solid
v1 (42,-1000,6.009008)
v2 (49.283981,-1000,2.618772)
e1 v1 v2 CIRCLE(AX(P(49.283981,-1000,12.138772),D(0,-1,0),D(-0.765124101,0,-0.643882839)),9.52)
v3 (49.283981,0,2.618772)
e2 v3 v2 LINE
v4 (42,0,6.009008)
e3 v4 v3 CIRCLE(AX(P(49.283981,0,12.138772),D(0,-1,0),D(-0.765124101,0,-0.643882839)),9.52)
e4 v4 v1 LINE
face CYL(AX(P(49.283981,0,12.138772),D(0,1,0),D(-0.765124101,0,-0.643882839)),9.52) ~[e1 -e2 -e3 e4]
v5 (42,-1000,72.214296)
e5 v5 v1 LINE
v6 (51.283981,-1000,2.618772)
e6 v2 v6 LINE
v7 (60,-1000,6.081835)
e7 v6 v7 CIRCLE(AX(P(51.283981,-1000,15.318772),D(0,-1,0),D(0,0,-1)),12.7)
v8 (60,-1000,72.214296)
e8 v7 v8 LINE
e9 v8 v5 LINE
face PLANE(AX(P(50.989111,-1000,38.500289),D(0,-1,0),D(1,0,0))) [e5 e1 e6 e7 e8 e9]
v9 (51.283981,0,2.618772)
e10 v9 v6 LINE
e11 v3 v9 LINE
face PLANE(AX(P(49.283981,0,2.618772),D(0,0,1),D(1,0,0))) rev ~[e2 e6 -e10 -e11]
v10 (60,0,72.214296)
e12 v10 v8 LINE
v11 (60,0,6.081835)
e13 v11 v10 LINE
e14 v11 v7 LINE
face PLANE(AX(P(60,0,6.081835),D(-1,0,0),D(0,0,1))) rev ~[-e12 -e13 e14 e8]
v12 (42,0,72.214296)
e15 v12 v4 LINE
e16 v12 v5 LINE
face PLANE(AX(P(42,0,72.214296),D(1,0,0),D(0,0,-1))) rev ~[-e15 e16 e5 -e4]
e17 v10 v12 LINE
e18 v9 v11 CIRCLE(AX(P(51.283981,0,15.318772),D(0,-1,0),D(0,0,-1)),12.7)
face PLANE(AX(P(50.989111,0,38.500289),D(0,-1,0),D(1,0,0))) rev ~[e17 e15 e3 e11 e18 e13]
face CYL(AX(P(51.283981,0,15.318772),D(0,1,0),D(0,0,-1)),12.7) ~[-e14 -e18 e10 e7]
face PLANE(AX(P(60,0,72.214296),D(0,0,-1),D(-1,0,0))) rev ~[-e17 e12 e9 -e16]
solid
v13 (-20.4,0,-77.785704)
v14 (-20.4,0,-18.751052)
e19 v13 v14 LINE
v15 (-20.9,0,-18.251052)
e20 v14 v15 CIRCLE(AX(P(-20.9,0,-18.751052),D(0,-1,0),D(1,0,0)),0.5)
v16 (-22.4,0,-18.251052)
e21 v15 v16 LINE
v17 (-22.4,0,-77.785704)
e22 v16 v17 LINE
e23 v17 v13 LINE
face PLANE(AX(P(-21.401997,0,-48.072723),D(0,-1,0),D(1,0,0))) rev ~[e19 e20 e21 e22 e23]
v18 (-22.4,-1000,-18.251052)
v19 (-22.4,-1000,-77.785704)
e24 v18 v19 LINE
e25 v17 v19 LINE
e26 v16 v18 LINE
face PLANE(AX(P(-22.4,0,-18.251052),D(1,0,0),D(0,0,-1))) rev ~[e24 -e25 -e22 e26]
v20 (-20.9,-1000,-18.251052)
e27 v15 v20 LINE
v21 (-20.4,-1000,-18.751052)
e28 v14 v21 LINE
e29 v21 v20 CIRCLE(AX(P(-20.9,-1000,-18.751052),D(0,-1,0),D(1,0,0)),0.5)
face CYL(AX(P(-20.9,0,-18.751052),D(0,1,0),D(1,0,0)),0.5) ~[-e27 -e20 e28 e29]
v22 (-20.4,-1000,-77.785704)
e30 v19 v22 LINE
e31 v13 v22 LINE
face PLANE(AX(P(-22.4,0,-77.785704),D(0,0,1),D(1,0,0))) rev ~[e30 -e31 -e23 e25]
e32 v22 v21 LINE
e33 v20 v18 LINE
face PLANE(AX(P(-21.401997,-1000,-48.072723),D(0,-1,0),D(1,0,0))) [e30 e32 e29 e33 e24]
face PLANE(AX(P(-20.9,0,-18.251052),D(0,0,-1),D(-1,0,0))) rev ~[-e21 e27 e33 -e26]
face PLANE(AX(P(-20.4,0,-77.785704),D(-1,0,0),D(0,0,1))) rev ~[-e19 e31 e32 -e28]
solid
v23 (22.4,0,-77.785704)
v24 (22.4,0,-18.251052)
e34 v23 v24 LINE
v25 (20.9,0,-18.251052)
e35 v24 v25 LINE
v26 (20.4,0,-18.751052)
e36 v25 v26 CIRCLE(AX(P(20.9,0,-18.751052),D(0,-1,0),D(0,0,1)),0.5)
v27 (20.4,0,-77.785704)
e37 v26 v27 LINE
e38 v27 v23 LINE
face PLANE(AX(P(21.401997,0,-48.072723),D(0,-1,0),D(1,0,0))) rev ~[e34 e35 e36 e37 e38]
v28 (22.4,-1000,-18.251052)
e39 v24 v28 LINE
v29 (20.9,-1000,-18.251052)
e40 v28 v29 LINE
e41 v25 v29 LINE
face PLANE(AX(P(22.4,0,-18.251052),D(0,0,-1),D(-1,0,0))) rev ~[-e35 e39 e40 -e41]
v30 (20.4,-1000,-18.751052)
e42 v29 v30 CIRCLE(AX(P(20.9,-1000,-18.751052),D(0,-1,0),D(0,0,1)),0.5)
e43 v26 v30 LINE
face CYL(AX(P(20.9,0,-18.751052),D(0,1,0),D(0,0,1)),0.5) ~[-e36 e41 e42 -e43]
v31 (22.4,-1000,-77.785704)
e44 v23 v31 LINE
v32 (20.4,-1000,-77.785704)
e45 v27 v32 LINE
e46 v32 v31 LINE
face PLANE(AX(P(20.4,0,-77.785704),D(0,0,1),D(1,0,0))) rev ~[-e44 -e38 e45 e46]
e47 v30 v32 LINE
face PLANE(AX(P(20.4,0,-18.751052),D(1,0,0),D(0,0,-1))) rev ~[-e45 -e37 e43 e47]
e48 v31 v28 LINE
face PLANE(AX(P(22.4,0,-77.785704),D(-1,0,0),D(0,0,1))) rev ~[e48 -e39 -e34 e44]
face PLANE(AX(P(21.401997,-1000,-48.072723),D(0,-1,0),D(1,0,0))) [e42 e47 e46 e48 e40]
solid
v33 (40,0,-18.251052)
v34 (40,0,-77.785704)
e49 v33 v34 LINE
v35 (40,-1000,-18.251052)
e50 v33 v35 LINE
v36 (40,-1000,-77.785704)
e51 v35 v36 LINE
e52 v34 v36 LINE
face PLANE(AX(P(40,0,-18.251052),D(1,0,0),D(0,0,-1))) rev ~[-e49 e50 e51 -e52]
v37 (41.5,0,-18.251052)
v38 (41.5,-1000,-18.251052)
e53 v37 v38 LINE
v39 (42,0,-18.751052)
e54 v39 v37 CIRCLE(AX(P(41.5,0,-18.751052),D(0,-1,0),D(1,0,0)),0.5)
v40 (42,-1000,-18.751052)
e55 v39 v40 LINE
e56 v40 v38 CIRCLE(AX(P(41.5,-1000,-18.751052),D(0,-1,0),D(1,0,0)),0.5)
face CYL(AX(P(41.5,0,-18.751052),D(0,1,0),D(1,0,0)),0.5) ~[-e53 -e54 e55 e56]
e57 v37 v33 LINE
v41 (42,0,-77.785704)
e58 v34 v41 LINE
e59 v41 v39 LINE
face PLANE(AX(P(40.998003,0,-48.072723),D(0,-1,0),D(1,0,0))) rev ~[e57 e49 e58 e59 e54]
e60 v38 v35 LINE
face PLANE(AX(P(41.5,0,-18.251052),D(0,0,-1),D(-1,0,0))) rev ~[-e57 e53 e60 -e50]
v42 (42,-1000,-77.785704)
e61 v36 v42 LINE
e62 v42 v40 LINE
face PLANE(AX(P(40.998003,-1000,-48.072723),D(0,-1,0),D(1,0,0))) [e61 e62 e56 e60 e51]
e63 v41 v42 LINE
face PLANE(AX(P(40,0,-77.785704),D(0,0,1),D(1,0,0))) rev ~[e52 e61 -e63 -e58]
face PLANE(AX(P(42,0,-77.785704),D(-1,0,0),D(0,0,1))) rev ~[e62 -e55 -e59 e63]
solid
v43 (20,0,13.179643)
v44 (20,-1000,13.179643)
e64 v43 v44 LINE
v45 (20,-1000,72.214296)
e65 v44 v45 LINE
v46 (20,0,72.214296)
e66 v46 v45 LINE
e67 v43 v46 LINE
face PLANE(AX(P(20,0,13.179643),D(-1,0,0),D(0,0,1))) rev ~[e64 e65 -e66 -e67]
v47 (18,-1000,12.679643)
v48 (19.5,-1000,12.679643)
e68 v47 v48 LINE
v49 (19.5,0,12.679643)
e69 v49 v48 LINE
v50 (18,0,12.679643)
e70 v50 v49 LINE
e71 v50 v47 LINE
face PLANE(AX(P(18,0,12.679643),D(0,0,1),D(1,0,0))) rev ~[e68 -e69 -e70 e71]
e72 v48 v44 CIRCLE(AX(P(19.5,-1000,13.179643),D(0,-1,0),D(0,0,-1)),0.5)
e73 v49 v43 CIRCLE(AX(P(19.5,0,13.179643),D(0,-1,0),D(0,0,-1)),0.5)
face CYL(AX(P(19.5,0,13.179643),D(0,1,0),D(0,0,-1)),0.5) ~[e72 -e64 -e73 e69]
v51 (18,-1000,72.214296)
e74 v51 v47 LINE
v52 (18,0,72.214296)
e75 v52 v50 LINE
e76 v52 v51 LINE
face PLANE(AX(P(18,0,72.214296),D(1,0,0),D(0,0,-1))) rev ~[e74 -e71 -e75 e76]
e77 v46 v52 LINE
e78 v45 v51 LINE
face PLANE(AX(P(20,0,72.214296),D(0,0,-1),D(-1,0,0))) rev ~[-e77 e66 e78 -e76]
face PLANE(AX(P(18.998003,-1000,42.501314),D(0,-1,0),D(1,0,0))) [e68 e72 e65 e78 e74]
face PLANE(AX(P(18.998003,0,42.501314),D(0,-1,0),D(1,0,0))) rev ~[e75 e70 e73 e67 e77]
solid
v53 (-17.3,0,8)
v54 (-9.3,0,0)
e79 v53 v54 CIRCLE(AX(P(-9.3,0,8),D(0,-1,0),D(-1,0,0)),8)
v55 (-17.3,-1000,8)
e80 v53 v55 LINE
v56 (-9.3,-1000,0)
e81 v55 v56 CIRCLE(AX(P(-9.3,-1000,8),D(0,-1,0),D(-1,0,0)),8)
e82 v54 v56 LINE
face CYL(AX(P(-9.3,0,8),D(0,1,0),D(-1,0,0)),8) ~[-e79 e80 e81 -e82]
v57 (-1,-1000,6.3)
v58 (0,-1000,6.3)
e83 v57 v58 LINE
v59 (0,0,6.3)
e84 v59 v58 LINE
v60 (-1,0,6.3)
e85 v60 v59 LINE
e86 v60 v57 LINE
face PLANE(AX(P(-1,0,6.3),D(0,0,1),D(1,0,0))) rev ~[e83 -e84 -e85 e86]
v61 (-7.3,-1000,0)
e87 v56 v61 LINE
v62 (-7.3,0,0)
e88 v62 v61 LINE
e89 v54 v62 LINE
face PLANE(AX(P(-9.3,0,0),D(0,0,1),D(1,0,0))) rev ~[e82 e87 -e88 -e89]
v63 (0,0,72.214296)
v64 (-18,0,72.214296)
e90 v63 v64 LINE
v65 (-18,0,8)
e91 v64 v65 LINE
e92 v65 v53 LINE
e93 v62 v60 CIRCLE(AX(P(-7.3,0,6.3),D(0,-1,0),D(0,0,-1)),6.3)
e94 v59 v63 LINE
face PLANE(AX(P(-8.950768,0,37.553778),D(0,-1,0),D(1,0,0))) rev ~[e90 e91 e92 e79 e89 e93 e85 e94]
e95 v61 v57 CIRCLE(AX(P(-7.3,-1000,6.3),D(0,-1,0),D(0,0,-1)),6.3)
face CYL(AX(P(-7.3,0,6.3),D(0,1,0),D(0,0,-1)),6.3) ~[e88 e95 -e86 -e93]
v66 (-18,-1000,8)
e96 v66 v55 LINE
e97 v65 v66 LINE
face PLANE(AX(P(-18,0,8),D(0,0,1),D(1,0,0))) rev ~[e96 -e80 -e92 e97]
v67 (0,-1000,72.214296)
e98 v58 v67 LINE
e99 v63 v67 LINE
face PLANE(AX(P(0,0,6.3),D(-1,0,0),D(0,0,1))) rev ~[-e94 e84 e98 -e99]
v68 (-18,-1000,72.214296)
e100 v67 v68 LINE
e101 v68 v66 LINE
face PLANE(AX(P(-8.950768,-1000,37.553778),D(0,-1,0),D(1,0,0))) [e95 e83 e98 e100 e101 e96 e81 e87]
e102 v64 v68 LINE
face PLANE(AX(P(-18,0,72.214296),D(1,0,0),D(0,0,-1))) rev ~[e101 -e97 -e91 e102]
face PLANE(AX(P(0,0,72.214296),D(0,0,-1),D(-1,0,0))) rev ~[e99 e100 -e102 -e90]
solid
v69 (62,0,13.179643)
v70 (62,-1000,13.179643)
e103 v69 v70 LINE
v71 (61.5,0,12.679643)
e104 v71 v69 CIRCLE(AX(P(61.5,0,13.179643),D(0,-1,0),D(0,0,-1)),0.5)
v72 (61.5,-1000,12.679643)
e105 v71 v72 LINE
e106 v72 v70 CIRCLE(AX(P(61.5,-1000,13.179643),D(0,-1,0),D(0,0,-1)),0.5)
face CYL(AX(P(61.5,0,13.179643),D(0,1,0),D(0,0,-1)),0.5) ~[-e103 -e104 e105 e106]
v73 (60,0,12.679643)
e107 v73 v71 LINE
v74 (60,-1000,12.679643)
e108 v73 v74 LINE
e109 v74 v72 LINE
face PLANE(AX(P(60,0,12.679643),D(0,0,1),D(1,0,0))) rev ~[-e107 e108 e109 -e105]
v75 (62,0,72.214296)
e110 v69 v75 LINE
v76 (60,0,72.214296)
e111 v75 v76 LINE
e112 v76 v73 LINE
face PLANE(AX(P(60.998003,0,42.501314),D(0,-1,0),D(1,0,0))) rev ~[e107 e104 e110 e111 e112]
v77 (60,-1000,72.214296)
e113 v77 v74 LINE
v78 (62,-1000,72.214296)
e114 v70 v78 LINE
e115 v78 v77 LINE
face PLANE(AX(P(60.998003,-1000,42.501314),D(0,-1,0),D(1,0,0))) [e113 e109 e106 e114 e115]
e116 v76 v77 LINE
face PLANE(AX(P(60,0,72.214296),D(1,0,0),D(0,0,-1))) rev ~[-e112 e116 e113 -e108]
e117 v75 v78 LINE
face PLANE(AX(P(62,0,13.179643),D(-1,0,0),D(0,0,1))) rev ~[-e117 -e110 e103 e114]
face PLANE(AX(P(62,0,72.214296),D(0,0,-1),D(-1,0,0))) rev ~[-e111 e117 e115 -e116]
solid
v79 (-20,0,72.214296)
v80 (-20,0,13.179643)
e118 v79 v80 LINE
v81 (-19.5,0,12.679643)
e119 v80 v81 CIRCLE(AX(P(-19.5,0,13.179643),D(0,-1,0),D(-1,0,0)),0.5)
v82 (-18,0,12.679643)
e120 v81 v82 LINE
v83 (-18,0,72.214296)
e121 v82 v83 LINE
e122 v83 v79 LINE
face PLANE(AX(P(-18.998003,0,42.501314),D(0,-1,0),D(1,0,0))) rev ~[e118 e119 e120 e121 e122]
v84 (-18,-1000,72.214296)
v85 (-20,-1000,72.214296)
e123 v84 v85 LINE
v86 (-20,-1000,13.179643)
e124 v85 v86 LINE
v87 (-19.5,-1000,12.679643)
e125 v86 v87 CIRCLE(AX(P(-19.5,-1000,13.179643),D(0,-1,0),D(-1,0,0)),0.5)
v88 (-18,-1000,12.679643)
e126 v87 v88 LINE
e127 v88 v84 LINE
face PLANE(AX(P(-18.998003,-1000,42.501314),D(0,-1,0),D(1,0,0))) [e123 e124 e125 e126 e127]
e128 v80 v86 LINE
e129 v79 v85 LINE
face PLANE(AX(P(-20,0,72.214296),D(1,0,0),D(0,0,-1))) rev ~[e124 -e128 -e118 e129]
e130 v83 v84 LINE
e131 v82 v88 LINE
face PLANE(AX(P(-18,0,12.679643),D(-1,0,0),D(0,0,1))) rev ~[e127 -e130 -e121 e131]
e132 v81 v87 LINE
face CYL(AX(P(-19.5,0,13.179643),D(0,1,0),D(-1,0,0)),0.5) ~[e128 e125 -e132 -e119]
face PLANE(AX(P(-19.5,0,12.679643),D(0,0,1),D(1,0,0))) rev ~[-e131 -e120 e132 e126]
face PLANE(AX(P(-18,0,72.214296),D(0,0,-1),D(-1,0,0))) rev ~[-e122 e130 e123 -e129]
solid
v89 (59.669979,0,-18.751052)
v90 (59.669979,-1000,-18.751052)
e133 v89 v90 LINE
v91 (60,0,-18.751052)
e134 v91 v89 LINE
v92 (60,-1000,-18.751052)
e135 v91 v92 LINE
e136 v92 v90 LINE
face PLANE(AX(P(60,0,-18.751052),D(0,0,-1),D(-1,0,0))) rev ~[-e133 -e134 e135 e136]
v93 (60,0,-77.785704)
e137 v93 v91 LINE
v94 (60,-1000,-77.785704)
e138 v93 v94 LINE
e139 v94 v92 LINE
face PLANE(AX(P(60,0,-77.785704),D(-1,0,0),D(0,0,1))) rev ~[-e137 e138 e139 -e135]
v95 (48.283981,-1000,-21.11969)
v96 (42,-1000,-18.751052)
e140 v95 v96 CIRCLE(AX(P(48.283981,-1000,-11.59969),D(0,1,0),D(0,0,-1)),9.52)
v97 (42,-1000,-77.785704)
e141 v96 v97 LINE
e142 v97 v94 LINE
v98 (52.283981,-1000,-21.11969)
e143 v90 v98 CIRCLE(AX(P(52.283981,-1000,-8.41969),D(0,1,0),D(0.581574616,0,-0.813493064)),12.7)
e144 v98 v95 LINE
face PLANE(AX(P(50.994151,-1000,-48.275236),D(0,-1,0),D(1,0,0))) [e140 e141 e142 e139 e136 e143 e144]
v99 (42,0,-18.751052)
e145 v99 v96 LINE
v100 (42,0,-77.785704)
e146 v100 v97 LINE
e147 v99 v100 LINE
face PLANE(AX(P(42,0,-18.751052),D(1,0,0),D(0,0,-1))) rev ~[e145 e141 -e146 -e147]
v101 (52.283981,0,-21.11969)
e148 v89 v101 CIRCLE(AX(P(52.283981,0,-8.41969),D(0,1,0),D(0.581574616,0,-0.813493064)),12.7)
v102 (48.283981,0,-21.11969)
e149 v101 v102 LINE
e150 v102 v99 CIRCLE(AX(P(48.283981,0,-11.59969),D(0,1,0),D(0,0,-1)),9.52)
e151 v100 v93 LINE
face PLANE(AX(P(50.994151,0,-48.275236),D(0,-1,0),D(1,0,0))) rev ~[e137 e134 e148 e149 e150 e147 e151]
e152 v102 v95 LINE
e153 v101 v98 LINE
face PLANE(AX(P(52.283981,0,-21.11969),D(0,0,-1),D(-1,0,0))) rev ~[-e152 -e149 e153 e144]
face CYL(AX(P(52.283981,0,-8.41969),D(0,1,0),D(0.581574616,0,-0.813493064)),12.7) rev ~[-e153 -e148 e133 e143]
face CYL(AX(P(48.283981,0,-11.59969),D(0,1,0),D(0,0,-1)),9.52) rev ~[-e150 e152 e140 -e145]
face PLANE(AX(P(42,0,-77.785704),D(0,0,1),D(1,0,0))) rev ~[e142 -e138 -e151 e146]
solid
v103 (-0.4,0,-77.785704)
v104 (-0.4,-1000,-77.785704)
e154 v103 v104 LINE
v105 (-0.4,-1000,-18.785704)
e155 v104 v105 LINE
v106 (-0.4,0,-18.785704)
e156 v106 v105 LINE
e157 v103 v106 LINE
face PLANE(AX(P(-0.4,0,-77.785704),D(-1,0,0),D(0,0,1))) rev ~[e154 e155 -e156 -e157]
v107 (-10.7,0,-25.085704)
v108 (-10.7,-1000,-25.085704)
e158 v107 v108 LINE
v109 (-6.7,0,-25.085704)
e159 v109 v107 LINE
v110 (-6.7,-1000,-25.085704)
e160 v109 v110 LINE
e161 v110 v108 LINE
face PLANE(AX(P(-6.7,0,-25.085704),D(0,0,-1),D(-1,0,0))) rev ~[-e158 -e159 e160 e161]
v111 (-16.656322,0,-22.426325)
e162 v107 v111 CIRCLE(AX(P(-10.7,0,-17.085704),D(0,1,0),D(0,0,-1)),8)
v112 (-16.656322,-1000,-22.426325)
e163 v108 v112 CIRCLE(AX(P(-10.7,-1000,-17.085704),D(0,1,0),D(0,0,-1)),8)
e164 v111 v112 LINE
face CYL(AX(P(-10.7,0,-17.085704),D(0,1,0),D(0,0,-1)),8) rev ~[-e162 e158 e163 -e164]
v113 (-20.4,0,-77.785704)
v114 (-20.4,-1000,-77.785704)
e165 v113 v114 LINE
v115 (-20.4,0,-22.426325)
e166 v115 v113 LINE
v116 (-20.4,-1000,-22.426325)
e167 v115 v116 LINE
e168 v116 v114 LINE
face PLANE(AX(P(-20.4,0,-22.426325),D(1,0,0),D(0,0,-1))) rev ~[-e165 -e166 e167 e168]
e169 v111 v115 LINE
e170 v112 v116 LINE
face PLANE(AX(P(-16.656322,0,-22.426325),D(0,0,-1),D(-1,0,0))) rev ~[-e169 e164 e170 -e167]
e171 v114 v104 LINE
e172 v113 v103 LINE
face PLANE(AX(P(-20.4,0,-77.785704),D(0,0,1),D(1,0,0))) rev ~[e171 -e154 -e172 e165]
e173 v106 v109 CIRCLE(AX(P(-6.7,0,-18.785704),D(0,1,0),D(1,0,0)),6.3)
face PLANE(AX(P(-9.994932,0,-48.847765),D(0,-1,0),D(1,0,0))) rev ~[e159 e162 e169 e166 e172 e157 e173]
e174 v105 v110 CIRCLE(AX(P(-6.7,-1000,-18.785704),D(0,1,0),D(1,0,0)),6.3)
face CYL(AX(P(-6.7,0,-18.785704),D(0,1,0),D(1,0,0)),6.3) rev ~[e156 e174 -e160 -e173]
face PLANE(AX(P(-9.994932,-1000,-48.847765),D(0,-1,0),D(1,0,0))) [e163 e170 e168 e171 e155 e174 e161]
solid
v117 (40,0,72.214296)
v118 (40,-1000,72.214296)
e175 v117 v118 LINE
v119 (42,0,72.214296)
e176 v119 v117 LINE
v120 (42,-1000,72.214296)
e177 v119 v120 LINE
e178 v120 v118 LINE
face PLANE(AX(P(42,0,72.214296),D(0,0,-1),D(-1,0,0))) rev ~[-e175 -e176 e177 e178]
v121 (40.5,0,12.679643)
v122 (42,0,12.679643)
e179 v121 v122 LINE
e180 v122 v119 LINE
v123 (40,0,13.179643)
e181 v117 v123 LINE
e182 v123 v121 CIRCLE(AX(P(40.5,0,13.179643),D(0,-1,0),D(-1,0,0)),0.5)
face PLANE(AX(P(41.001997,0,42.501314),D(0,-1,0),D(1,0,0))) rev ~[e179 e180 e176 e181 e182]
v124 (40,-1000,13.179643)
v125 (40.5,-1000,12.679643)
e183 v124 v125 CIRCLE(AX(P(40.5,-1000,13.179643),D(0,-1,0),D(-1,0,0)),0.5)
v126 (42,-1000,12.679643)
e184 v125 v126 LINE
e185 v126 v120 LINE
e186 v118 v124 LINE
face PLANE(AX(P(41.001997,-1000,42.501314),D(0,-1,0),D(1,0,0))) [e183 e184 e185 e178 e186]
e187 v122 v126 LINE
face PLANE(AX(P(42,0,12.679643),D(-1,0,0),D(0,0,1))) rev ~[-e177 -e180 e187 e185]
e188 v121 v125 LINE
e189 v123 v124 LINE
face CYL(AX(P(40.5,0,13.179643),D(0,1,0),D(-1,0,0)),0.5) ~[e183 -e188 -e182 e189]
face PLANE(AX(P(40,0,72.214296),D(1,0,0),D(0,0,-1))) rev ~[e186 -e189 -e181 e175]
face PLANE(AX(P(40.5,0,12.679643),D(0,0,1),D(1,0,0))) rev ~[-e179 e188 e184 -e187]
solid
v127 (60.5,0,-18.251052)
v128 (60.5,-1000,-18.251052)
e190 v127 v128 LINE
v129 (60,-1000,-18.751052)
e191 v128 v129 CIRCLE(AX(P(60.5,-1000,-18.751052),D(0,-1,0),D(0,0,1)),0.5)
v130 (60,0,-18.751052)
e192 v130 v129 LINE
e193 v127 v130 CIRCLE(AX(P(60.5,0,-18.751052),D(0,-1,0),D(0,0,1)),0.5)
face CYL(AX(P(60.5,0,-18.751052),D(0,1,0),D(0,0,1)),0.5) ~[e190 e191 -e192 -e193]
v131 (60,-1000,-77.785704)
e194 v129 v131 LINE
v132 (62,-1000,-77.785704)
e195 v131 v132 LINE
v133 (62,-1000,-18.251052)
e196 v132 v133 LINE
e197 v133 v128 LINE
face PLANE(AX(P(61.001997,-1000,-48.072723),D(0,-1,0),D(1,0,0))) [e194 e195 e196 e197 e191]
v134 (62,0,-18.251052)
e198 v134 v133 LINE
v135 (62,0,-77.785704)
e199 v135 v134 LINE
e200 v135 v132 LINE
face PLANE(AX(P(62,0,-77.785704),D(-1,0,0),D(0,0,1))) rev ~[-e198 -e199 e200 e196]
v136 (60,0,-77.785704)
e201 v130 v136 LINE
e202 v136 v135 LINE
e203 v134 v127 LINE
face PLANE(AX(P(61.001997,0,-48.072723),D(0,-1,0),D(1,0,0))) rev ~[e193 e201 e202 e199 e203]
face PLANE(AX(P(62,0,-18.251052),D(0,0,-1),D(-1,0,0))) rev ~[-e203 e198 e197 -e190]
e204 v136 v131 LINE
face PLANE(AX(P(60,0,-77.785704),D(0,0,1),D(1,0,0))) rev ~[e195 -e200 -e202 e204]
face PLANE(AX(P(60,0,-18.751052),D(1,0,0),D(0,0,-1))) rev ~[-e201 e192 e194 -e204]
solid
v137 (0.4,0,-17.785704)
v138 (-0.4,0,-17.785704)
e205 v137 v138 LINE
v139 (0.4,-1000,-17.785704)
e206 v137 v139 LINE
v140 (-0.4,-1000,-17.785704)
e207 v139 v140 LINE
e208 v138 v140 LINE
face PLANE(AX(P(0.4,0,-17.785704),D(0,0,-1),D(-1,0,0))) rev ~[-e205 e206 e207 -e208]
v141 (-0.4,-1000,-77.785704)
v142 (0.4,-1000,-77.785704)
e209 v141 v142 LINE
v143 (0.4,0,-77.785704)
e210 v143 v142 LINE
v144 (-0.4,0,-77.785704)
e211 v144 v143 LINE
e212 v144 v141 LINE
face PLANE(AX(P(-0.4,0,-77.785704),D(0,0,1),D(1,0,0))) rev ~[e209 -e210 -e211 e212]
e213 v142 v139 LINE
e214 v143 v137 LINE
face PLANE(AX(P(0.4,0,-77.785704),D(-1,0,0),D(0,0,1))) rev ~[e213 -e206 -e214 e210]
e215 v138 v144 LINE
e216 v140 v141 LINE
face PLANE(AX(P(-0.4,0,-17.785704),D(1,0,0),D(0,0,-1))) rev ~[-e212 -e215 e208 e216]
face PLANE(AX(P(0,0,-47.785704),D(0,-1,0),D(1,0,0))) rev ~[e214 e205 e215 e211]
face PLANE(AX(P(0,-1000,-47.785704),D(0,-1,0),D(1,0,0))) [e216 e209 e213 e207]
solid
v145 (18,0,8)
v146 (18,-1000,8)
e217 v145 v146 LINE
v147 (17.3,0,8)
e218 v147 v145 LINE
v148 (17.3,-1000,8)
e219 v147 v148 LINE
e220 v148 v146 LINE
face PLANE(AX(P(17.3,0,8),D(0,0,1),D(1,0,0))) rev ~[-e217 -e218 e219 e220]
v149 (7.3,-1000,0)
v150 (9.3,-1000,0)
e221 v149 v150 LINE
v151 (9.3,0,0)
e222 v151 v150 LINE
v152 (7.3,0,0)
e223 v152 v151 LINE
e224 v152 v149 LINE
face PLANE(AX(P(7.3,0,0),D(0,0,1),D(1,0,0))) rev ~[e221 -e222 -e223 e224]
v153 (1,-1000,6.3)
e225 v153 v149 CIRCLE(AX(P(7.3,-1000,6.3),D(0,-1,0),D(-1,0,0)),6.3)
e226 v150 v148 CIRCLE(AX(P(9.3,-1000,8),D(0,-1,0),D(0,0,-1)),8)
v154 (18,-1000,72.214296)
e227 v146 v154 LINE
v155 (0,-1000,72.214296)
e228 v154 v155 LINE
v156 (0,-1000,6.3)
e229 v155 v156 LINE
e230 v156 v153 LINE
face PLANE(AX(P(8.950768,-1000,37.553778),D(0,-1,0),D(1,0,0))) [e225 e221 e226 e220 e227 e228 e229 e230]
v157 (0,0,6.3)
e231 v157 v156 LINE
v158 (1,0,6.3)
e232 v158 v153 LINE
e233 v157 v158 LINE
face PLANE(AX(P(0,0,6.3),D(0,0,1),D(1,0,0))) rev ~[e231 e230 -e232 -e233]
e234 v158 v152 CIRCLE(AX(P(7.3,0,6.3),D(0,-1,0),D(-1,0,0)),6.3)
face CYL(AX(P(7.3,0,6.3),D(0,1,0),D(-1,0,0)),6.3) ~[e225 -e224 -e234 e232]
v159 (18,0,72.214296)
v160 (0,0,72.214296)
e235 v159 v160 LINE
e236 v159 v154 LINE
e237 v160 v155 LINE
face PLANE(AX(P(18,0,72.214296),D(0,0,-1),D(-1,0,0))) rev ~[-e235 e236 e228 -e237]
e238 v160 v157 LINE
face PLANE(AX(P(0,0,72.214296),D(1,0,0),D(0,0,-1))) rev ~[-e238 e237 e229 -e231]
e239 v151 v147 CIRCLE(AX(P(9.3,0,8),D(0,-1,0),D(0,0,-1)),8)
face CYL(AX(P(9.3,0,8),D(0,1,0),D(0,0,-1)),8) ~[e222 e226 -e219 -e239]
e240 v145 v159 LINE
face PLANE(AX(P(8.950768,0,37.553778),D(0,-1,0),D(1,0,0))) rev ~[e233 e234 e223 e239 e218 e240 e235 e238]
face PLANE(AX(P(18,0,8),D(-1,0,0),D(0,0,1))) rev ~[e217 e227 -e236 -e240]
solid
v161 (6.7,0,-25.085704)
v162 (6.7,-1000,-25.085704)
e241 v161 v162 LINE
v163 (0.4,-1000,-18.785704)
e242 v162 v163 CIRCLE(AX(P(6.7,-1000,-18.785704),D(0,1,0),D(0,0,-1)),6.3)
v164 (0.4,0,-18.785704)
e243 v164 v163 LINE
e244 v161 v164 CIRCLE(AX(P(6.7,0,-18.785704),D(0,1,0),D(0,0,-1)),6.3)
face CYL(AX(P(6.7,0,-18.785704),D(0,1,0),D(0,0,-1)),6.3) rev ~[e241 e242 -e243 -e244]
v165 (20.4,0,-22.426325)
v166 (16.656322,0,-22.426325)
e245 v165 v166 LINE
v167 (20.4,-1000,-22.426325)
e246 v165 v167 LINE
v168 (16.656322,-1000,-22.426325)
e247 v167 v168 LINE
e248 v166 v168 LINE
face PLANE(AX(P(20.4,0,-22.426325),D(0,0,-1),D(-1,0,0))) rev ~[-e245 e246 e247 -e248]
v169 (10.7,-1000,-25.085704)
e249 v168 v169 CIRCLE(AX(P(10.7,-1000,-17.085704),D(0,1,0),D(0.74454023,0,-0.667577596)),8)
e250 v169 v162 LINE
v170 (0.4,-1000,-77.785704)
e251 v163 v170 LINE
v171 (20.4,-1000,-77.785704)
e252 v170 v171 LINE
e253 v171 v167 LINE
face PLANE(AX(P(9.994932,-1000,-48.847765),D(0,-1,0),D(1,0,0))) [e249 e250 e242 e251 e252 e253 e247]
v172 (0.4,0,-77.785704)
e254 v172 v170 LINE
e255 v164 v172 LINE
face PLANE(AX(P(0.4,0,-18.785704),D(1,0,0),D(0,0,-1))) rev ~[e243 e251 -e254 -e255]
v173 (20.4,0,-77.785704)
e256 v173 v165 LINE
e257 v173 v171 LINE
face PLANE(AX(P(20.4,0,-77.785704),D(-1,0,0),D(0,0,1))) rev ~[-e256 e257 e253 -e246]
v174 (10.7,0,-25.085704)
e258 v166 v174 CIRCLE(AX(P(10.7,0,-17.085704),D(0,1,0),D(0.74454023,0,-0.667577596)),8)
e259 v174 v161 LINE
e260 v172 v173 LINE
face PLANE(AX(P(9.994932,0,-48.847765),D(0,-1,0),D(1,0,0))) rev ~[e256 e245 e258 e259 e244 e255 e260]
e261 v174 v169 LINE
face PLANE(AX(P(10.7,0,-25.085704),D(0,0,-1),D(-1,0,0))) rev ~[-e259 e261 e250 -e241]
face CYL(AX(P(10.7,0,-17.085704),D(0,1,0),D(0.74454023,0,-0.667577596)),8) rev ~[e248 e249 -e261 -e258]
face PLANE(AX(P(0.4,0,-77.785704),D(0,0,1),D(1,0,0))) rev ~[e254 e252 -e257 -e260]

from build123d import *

# Parameters (mm, degrees)
F2_DEPTH = 1000
F3_DEPTH = 1000
F4_DEPTH = 1000


with BuildPart() as f2:
    # F1 (on Front) → F2 (new body)
    with BuildSketch(Plane.XZ):
        with BuildLine():
            Line((0, 72.2142957122), (-18, 72.2142957122))
            Line((-18, 72.2142957122), (-18, 12.6796430446))
            Line((-18, 12.6796430446), (-18, 8))
            Line((-18, 8), (-17.3, 8))
            ThreePointArc((-17.3, 8), (-14.9568542495, 2.3431457505), (-9.3, 0))
            Line((-9.3, 0), (-7.3, 0))
            ThreePointArc((-7.3, 0), (-2.8452272785, 1.8452272785), (-1, 6.3))
            Line((-1, 6.3), (0, 6.3))
            Line((0, 6.3), (0, 72.2142957122))
        make_face()
    extrude(amount=F2_DEPTH)


with BuildPart() as f2b:
    # F1 (on Front) → F2, piece 2 (new body)
    with BuildSketch(Plane.XZ):
        with BuildLine():
            Line((-0.4, -77.7857042878), (-0.4, -18.7857042878))
            ThreePointArc((-0.4, -18.7857042878), (-2.2452272785, -23.2404770092), (-6.7, -25.0857042878))
            Line((-6.7, -25.0857042878), (-10.7, -25.0857042878))
            ThreePointArc((-10.7, -25.0857042878), (-13.9615206488, -24.3906671937), (-16.6563218391, -22.4263250522))
            Line((-16.6563218391, -22.4263250522), (-20.4, -22.4263250522))
            Line((-20.4, -22.4263250522), (-20.4, -77.7857042878))
            Line((-20.4, -77.7857042878), (-0.4, -77.7857042878))
        make_face()
    extrude(amount=F2_DEPTH)


with BuildPart() as f2c:
    # F1 (on Front) → F2, piece 3 (new body)
    with BuildSketch(Plane.XZ):
        with BuildLine():
            Line((60, 72.2142957122), (42, 72.2142957122))
            Line((42, 72.2142957122), (42, 12.6796430446))
            Line((42, 12.6796430446), (42, 6.0090078464))
            ThreePointArc((42, 6.0090078464), (45.2668281726, 3.507846704), (49.2839814408, 2.6187724724))
            Line((49.2839814408, 2.6187724724), (51.2839814408, 2.6187724724))
            ThreePointArc((51.2839814408, 2.6187724724), (55.9733785001, 3.5162492158), (60, 6.0818346423))
            Line((60, 6.0818346423), (60, 12.6796430446))
            Line((60, 12.6796430446), (60, 72.2142957122))
        make_face()
    extrude(amount=F2_DEPTH)


with BuildPart() as f2d:
    # F1 (on Front) → F2, piece 4 (new body)
    with BuildSketch(Plane.XZ):
        with BuildLine():
            Line((42, -18.7510516201), (42, -77.7857042878))
            Line((42, -77.7857042878), (60, -77.7857042878))
            Line((60, -77.7857042878), (60, -18.7510516201))
            Line((60, -18.7510516201), (59.6699790691, -18.7510516201))
            ThreePointArc((59.6699790691, -18.7510516201), (56.1622351503, -20.5130411077), (52.2839814408, -21.1196897043))
            Line((52.2839814408, -21.1196897043), (48.2839814408, -21.1196897043))
            ThreePointArc((48.2839814408, -21.1196897043), (44.9261968616, -20.507870367), (42, -18.7510516201))
        make_face()
    extrude(amount=F2_DEPTH)


with BuildPart() as f3:
    # F1 (on Front) → F3 (new body)
    with BuildSketch(Plane.XZ):
        with BuildLine():
            ThreePointArc((6.7, -25.0857042878), (2.2452272785, -23.2404770092), (0.4, -18.7857042878))
            Line((0.4, -18.7857042878), (0.4, -77.7857042878))
            Line((0.4, -77.7857042878), (20.4, -77.7857042878))
            Line((20.4, -77.7857042878), (20.4, -22.4263250522))
            Line((20.4, -22.4263250522), (16.6563218391, -22.4263250522))
            ThreePointArc((16.6563218391, -22.4263250522), (13.9615206488, -24.3906671937), (10.7, -25.0857042878))
            Line((10.7, -25.0857042878), (6.7, -25.0857042878))
        make_face()
    extrude(amount=F3_DEPTH)


with BuildPart() as f3b:
    # F1 (on Front) → F3, piece 2 (new body)
    with BuildSketch(Plane.XZ):
        with BuildLine():
            Line((18, 72.2142957122), (0, 72.2142957122))
            Line((0, 72.2142957122), (0, 6.3))
            Line((0, 6.3), (1, 6.3))
            ThreePointArc((1, 6.3), (2.8452272785, 1.8452272785), (7.3, 0))
            Line((7.3, 0), (9.3, 0))
            ThreePointArc((9.3, 0), (14.9568542495, 2.3431457505), (17.3, 8))
            Line((17.3, 8), (18, 8))
            Line((18, 8), (18, 12.6796430446))
            Line((18, 12.6796430446), (18, 72.2142957122))
        make_face()
    extrude(amount=F3_DEPTH)


with BuildPart() as f4:
    # F1 (on Front) → F4 (new body)
    with BuildSketch(Plane.XZ):
        with BuildLine():
            Line((-22.4, -77.7857042878), (-20.4, -77.7857042878))
            Line((-20.4, -77.7857042878), (-20.4, -22.4263250522))
            Line((-20.4, -22.4263250522), (-20.4, -18.7510516201))
            ThreePointArc((-20.4, -18.7510516201), (-20.5464466094, -18.3974982295), (-20.9, -18.2510516201))
            Line((-20.9, -18.2510516201), (-22.4, -18.2510516201))
            Line((-22.4, -18.2510516201), (-22.4, -77.7857042878))
        make_face()
    extrude(amount=F4_DEPTH)


with BuildPart() as f4b:
    # F1 (on Front) → F4, piece 2 (new body)
    with BuildSketch(Plane.XZ):
        Polygon((0.4, -17.7857042878), (-0.4, -17.7857042878), (-0.4, -18.7857042878), (-0.4, -77.7857042878), (0.4, -77.7857042878), (0.4, -18.7857042878), align=None)
    extrude(amount=F4_DEPTH)


with BuildPart() as f4c:
    # F1 (on Front) → F4, piece 3 (new body)
    with BuildSketch(Plane.XZ):
        with BuildLine():
            Line((20.4, -22.4263250522), (20.4, -77.7857042878))
            Line((20.4, -77.7857042878), (22.4, -77.7857042878))
            Line((22.4, -77.7857042878), (22.4, -18.2510516201))
            Line((22.4, -18.2510516201), (20.9, -18.2510516201))
            ThreePointArc((20.9, -18.2510516201), (20.5464466094, -18.3974982295), (20.4, -18.7510516201))
            Line((20.4, -18.7510516201), (20.4, -22.4263250522))
        make_face()
    extrude(amount=F4_DEPTH)


with BuildPart() as f4d:
    # F1 (on Front) → F4, piece 4 (new body)
    with BuildSketch(Plane.XZ):
        with BuildLine():
            Line((-18, 12.6796430446), (-18, 72.2142957122))
            Line((-18, 72.2142957122), (-20, 72.2142957122))
            Line((-20, 72.2142957122), (-20, 13.1796430446))
            ThreePointArc((-20, 13.1796430446), (-19.8535533906, 12.826089654), (-19.5, 12.6796430446))
            Line((-19.5, 12.6796430446), (-18, 12.6796430446))
        make_face()
    extrude(amount=F4_DEPTH)


with BuildPart() as f4e:
    # F1 (on Front) → F4, piece 5 (new body)
    with BuildSketch(Plane.XZ):
        with BuildLine():
            Line((20, 72.2142957122), (18, 72.2142957122))
            Line((18, 72.2142957122), (18, 12.6796430446))
            Line((18, 12.6796430446), (19.5, 12.6796430446))
            ThreePointArc((19.5, 12.6796430446), (19.8535533906, 12.826089654), (20, 13.1796430446))
            Line((20, 13.1796430446), (20, 72.2142957122))
        make_face()
    extrude(amount=F4_DEPTH)


with BuildPart() as f4f:
    # F1 (on Front) → F4, piece 6 (new body)
    with BuildSketch(Plane.XZ):
        with BuildLine():
            Line((62, 72.2142957122), (60, 72.2142957122))
            Line((60, 72.2142957122), (60, 12.6796430446))
            Line((60, 12.6796430446), (61.5, 12.6796430446))
            ThreePointArc((61.5, 12.6796430446), (61.8535533906, 12.826089654), (62, 13.1796430446))
            Line((62, 13.1796430446), (62, 72.2142957122))
        make_face()
    extrude(amount=F4_DEPTH)


with BuildPart() as f4g:
    # F1 (on Front) → F4, piece 7 (new body)
    with BuildSketch(Plane.XZ):
        with BuildLine():
            Line((42, 12.6796430446), (42, 72.2142957122))
            Line((42, 72.2142957122), (40, 72.2142957122))
            Line((40, 72.2142957122), (40, 13.1796430446))
            ThreePointArc((40, 13.1796430446), (40.1464466094, 12.826089654), (40.5, 12.6796430446))
            Line((40.5, 12.6796430446), (42, 12.6796430446))
        make_face()
    extrude(amount=F4_DEPTH)


with BuildPart() as f4h:
    # F1 (on Front) → F4, piece 8 (new body)
    with BuildSketch(Plane.XZ):
        with BuildLine():
            Line((40, -77.7857042878), (42, -77.7857042878))
            Line((42, -77.7857042878), (42, -18.7510516201))
            ThreePointArc((42, -18.7510516201), (41.8535533906, -18.3974982295), (41.5, -18.2510516201))
            Line((41.5, -18.2510516201), (40, -18.2510516201))
            Line((40, -18.2510516201), (40, -77.7857042878))
        make_face()
    extrude(amount=F4_DEPTH)


with BuildPart() as f4i:
    # F1 (on Front) → F4, piece 9 (new body)
    with BuildSketch(Plane.XZ):
        with BuildLine():
            Line((60, -18.7510516201), (60, -77.7857042878))
            Line((60, -77.7857042878), (62, -77.7857042878))
            Line((62, -77.7857042878), (62, -18.2510516201))
            Line((62, -18.2510516201), (60.5, -18.2510516201))
            ThreePointArc((60.5, -18.2510516201), (60.1464466094, -18.3974982295), (60, -18.7510516201))
        make_face()
    extrude(amount=F4_DEPTH)


solid = Compound([f2.part, f2b.part, f2c.part, f2d.part, f3.part, f3b.part, f4.part, f4b.part, f4c.part, f4d.part, f4e.part, f4f.part, f4g.part, f4h.part, f4i.part])
